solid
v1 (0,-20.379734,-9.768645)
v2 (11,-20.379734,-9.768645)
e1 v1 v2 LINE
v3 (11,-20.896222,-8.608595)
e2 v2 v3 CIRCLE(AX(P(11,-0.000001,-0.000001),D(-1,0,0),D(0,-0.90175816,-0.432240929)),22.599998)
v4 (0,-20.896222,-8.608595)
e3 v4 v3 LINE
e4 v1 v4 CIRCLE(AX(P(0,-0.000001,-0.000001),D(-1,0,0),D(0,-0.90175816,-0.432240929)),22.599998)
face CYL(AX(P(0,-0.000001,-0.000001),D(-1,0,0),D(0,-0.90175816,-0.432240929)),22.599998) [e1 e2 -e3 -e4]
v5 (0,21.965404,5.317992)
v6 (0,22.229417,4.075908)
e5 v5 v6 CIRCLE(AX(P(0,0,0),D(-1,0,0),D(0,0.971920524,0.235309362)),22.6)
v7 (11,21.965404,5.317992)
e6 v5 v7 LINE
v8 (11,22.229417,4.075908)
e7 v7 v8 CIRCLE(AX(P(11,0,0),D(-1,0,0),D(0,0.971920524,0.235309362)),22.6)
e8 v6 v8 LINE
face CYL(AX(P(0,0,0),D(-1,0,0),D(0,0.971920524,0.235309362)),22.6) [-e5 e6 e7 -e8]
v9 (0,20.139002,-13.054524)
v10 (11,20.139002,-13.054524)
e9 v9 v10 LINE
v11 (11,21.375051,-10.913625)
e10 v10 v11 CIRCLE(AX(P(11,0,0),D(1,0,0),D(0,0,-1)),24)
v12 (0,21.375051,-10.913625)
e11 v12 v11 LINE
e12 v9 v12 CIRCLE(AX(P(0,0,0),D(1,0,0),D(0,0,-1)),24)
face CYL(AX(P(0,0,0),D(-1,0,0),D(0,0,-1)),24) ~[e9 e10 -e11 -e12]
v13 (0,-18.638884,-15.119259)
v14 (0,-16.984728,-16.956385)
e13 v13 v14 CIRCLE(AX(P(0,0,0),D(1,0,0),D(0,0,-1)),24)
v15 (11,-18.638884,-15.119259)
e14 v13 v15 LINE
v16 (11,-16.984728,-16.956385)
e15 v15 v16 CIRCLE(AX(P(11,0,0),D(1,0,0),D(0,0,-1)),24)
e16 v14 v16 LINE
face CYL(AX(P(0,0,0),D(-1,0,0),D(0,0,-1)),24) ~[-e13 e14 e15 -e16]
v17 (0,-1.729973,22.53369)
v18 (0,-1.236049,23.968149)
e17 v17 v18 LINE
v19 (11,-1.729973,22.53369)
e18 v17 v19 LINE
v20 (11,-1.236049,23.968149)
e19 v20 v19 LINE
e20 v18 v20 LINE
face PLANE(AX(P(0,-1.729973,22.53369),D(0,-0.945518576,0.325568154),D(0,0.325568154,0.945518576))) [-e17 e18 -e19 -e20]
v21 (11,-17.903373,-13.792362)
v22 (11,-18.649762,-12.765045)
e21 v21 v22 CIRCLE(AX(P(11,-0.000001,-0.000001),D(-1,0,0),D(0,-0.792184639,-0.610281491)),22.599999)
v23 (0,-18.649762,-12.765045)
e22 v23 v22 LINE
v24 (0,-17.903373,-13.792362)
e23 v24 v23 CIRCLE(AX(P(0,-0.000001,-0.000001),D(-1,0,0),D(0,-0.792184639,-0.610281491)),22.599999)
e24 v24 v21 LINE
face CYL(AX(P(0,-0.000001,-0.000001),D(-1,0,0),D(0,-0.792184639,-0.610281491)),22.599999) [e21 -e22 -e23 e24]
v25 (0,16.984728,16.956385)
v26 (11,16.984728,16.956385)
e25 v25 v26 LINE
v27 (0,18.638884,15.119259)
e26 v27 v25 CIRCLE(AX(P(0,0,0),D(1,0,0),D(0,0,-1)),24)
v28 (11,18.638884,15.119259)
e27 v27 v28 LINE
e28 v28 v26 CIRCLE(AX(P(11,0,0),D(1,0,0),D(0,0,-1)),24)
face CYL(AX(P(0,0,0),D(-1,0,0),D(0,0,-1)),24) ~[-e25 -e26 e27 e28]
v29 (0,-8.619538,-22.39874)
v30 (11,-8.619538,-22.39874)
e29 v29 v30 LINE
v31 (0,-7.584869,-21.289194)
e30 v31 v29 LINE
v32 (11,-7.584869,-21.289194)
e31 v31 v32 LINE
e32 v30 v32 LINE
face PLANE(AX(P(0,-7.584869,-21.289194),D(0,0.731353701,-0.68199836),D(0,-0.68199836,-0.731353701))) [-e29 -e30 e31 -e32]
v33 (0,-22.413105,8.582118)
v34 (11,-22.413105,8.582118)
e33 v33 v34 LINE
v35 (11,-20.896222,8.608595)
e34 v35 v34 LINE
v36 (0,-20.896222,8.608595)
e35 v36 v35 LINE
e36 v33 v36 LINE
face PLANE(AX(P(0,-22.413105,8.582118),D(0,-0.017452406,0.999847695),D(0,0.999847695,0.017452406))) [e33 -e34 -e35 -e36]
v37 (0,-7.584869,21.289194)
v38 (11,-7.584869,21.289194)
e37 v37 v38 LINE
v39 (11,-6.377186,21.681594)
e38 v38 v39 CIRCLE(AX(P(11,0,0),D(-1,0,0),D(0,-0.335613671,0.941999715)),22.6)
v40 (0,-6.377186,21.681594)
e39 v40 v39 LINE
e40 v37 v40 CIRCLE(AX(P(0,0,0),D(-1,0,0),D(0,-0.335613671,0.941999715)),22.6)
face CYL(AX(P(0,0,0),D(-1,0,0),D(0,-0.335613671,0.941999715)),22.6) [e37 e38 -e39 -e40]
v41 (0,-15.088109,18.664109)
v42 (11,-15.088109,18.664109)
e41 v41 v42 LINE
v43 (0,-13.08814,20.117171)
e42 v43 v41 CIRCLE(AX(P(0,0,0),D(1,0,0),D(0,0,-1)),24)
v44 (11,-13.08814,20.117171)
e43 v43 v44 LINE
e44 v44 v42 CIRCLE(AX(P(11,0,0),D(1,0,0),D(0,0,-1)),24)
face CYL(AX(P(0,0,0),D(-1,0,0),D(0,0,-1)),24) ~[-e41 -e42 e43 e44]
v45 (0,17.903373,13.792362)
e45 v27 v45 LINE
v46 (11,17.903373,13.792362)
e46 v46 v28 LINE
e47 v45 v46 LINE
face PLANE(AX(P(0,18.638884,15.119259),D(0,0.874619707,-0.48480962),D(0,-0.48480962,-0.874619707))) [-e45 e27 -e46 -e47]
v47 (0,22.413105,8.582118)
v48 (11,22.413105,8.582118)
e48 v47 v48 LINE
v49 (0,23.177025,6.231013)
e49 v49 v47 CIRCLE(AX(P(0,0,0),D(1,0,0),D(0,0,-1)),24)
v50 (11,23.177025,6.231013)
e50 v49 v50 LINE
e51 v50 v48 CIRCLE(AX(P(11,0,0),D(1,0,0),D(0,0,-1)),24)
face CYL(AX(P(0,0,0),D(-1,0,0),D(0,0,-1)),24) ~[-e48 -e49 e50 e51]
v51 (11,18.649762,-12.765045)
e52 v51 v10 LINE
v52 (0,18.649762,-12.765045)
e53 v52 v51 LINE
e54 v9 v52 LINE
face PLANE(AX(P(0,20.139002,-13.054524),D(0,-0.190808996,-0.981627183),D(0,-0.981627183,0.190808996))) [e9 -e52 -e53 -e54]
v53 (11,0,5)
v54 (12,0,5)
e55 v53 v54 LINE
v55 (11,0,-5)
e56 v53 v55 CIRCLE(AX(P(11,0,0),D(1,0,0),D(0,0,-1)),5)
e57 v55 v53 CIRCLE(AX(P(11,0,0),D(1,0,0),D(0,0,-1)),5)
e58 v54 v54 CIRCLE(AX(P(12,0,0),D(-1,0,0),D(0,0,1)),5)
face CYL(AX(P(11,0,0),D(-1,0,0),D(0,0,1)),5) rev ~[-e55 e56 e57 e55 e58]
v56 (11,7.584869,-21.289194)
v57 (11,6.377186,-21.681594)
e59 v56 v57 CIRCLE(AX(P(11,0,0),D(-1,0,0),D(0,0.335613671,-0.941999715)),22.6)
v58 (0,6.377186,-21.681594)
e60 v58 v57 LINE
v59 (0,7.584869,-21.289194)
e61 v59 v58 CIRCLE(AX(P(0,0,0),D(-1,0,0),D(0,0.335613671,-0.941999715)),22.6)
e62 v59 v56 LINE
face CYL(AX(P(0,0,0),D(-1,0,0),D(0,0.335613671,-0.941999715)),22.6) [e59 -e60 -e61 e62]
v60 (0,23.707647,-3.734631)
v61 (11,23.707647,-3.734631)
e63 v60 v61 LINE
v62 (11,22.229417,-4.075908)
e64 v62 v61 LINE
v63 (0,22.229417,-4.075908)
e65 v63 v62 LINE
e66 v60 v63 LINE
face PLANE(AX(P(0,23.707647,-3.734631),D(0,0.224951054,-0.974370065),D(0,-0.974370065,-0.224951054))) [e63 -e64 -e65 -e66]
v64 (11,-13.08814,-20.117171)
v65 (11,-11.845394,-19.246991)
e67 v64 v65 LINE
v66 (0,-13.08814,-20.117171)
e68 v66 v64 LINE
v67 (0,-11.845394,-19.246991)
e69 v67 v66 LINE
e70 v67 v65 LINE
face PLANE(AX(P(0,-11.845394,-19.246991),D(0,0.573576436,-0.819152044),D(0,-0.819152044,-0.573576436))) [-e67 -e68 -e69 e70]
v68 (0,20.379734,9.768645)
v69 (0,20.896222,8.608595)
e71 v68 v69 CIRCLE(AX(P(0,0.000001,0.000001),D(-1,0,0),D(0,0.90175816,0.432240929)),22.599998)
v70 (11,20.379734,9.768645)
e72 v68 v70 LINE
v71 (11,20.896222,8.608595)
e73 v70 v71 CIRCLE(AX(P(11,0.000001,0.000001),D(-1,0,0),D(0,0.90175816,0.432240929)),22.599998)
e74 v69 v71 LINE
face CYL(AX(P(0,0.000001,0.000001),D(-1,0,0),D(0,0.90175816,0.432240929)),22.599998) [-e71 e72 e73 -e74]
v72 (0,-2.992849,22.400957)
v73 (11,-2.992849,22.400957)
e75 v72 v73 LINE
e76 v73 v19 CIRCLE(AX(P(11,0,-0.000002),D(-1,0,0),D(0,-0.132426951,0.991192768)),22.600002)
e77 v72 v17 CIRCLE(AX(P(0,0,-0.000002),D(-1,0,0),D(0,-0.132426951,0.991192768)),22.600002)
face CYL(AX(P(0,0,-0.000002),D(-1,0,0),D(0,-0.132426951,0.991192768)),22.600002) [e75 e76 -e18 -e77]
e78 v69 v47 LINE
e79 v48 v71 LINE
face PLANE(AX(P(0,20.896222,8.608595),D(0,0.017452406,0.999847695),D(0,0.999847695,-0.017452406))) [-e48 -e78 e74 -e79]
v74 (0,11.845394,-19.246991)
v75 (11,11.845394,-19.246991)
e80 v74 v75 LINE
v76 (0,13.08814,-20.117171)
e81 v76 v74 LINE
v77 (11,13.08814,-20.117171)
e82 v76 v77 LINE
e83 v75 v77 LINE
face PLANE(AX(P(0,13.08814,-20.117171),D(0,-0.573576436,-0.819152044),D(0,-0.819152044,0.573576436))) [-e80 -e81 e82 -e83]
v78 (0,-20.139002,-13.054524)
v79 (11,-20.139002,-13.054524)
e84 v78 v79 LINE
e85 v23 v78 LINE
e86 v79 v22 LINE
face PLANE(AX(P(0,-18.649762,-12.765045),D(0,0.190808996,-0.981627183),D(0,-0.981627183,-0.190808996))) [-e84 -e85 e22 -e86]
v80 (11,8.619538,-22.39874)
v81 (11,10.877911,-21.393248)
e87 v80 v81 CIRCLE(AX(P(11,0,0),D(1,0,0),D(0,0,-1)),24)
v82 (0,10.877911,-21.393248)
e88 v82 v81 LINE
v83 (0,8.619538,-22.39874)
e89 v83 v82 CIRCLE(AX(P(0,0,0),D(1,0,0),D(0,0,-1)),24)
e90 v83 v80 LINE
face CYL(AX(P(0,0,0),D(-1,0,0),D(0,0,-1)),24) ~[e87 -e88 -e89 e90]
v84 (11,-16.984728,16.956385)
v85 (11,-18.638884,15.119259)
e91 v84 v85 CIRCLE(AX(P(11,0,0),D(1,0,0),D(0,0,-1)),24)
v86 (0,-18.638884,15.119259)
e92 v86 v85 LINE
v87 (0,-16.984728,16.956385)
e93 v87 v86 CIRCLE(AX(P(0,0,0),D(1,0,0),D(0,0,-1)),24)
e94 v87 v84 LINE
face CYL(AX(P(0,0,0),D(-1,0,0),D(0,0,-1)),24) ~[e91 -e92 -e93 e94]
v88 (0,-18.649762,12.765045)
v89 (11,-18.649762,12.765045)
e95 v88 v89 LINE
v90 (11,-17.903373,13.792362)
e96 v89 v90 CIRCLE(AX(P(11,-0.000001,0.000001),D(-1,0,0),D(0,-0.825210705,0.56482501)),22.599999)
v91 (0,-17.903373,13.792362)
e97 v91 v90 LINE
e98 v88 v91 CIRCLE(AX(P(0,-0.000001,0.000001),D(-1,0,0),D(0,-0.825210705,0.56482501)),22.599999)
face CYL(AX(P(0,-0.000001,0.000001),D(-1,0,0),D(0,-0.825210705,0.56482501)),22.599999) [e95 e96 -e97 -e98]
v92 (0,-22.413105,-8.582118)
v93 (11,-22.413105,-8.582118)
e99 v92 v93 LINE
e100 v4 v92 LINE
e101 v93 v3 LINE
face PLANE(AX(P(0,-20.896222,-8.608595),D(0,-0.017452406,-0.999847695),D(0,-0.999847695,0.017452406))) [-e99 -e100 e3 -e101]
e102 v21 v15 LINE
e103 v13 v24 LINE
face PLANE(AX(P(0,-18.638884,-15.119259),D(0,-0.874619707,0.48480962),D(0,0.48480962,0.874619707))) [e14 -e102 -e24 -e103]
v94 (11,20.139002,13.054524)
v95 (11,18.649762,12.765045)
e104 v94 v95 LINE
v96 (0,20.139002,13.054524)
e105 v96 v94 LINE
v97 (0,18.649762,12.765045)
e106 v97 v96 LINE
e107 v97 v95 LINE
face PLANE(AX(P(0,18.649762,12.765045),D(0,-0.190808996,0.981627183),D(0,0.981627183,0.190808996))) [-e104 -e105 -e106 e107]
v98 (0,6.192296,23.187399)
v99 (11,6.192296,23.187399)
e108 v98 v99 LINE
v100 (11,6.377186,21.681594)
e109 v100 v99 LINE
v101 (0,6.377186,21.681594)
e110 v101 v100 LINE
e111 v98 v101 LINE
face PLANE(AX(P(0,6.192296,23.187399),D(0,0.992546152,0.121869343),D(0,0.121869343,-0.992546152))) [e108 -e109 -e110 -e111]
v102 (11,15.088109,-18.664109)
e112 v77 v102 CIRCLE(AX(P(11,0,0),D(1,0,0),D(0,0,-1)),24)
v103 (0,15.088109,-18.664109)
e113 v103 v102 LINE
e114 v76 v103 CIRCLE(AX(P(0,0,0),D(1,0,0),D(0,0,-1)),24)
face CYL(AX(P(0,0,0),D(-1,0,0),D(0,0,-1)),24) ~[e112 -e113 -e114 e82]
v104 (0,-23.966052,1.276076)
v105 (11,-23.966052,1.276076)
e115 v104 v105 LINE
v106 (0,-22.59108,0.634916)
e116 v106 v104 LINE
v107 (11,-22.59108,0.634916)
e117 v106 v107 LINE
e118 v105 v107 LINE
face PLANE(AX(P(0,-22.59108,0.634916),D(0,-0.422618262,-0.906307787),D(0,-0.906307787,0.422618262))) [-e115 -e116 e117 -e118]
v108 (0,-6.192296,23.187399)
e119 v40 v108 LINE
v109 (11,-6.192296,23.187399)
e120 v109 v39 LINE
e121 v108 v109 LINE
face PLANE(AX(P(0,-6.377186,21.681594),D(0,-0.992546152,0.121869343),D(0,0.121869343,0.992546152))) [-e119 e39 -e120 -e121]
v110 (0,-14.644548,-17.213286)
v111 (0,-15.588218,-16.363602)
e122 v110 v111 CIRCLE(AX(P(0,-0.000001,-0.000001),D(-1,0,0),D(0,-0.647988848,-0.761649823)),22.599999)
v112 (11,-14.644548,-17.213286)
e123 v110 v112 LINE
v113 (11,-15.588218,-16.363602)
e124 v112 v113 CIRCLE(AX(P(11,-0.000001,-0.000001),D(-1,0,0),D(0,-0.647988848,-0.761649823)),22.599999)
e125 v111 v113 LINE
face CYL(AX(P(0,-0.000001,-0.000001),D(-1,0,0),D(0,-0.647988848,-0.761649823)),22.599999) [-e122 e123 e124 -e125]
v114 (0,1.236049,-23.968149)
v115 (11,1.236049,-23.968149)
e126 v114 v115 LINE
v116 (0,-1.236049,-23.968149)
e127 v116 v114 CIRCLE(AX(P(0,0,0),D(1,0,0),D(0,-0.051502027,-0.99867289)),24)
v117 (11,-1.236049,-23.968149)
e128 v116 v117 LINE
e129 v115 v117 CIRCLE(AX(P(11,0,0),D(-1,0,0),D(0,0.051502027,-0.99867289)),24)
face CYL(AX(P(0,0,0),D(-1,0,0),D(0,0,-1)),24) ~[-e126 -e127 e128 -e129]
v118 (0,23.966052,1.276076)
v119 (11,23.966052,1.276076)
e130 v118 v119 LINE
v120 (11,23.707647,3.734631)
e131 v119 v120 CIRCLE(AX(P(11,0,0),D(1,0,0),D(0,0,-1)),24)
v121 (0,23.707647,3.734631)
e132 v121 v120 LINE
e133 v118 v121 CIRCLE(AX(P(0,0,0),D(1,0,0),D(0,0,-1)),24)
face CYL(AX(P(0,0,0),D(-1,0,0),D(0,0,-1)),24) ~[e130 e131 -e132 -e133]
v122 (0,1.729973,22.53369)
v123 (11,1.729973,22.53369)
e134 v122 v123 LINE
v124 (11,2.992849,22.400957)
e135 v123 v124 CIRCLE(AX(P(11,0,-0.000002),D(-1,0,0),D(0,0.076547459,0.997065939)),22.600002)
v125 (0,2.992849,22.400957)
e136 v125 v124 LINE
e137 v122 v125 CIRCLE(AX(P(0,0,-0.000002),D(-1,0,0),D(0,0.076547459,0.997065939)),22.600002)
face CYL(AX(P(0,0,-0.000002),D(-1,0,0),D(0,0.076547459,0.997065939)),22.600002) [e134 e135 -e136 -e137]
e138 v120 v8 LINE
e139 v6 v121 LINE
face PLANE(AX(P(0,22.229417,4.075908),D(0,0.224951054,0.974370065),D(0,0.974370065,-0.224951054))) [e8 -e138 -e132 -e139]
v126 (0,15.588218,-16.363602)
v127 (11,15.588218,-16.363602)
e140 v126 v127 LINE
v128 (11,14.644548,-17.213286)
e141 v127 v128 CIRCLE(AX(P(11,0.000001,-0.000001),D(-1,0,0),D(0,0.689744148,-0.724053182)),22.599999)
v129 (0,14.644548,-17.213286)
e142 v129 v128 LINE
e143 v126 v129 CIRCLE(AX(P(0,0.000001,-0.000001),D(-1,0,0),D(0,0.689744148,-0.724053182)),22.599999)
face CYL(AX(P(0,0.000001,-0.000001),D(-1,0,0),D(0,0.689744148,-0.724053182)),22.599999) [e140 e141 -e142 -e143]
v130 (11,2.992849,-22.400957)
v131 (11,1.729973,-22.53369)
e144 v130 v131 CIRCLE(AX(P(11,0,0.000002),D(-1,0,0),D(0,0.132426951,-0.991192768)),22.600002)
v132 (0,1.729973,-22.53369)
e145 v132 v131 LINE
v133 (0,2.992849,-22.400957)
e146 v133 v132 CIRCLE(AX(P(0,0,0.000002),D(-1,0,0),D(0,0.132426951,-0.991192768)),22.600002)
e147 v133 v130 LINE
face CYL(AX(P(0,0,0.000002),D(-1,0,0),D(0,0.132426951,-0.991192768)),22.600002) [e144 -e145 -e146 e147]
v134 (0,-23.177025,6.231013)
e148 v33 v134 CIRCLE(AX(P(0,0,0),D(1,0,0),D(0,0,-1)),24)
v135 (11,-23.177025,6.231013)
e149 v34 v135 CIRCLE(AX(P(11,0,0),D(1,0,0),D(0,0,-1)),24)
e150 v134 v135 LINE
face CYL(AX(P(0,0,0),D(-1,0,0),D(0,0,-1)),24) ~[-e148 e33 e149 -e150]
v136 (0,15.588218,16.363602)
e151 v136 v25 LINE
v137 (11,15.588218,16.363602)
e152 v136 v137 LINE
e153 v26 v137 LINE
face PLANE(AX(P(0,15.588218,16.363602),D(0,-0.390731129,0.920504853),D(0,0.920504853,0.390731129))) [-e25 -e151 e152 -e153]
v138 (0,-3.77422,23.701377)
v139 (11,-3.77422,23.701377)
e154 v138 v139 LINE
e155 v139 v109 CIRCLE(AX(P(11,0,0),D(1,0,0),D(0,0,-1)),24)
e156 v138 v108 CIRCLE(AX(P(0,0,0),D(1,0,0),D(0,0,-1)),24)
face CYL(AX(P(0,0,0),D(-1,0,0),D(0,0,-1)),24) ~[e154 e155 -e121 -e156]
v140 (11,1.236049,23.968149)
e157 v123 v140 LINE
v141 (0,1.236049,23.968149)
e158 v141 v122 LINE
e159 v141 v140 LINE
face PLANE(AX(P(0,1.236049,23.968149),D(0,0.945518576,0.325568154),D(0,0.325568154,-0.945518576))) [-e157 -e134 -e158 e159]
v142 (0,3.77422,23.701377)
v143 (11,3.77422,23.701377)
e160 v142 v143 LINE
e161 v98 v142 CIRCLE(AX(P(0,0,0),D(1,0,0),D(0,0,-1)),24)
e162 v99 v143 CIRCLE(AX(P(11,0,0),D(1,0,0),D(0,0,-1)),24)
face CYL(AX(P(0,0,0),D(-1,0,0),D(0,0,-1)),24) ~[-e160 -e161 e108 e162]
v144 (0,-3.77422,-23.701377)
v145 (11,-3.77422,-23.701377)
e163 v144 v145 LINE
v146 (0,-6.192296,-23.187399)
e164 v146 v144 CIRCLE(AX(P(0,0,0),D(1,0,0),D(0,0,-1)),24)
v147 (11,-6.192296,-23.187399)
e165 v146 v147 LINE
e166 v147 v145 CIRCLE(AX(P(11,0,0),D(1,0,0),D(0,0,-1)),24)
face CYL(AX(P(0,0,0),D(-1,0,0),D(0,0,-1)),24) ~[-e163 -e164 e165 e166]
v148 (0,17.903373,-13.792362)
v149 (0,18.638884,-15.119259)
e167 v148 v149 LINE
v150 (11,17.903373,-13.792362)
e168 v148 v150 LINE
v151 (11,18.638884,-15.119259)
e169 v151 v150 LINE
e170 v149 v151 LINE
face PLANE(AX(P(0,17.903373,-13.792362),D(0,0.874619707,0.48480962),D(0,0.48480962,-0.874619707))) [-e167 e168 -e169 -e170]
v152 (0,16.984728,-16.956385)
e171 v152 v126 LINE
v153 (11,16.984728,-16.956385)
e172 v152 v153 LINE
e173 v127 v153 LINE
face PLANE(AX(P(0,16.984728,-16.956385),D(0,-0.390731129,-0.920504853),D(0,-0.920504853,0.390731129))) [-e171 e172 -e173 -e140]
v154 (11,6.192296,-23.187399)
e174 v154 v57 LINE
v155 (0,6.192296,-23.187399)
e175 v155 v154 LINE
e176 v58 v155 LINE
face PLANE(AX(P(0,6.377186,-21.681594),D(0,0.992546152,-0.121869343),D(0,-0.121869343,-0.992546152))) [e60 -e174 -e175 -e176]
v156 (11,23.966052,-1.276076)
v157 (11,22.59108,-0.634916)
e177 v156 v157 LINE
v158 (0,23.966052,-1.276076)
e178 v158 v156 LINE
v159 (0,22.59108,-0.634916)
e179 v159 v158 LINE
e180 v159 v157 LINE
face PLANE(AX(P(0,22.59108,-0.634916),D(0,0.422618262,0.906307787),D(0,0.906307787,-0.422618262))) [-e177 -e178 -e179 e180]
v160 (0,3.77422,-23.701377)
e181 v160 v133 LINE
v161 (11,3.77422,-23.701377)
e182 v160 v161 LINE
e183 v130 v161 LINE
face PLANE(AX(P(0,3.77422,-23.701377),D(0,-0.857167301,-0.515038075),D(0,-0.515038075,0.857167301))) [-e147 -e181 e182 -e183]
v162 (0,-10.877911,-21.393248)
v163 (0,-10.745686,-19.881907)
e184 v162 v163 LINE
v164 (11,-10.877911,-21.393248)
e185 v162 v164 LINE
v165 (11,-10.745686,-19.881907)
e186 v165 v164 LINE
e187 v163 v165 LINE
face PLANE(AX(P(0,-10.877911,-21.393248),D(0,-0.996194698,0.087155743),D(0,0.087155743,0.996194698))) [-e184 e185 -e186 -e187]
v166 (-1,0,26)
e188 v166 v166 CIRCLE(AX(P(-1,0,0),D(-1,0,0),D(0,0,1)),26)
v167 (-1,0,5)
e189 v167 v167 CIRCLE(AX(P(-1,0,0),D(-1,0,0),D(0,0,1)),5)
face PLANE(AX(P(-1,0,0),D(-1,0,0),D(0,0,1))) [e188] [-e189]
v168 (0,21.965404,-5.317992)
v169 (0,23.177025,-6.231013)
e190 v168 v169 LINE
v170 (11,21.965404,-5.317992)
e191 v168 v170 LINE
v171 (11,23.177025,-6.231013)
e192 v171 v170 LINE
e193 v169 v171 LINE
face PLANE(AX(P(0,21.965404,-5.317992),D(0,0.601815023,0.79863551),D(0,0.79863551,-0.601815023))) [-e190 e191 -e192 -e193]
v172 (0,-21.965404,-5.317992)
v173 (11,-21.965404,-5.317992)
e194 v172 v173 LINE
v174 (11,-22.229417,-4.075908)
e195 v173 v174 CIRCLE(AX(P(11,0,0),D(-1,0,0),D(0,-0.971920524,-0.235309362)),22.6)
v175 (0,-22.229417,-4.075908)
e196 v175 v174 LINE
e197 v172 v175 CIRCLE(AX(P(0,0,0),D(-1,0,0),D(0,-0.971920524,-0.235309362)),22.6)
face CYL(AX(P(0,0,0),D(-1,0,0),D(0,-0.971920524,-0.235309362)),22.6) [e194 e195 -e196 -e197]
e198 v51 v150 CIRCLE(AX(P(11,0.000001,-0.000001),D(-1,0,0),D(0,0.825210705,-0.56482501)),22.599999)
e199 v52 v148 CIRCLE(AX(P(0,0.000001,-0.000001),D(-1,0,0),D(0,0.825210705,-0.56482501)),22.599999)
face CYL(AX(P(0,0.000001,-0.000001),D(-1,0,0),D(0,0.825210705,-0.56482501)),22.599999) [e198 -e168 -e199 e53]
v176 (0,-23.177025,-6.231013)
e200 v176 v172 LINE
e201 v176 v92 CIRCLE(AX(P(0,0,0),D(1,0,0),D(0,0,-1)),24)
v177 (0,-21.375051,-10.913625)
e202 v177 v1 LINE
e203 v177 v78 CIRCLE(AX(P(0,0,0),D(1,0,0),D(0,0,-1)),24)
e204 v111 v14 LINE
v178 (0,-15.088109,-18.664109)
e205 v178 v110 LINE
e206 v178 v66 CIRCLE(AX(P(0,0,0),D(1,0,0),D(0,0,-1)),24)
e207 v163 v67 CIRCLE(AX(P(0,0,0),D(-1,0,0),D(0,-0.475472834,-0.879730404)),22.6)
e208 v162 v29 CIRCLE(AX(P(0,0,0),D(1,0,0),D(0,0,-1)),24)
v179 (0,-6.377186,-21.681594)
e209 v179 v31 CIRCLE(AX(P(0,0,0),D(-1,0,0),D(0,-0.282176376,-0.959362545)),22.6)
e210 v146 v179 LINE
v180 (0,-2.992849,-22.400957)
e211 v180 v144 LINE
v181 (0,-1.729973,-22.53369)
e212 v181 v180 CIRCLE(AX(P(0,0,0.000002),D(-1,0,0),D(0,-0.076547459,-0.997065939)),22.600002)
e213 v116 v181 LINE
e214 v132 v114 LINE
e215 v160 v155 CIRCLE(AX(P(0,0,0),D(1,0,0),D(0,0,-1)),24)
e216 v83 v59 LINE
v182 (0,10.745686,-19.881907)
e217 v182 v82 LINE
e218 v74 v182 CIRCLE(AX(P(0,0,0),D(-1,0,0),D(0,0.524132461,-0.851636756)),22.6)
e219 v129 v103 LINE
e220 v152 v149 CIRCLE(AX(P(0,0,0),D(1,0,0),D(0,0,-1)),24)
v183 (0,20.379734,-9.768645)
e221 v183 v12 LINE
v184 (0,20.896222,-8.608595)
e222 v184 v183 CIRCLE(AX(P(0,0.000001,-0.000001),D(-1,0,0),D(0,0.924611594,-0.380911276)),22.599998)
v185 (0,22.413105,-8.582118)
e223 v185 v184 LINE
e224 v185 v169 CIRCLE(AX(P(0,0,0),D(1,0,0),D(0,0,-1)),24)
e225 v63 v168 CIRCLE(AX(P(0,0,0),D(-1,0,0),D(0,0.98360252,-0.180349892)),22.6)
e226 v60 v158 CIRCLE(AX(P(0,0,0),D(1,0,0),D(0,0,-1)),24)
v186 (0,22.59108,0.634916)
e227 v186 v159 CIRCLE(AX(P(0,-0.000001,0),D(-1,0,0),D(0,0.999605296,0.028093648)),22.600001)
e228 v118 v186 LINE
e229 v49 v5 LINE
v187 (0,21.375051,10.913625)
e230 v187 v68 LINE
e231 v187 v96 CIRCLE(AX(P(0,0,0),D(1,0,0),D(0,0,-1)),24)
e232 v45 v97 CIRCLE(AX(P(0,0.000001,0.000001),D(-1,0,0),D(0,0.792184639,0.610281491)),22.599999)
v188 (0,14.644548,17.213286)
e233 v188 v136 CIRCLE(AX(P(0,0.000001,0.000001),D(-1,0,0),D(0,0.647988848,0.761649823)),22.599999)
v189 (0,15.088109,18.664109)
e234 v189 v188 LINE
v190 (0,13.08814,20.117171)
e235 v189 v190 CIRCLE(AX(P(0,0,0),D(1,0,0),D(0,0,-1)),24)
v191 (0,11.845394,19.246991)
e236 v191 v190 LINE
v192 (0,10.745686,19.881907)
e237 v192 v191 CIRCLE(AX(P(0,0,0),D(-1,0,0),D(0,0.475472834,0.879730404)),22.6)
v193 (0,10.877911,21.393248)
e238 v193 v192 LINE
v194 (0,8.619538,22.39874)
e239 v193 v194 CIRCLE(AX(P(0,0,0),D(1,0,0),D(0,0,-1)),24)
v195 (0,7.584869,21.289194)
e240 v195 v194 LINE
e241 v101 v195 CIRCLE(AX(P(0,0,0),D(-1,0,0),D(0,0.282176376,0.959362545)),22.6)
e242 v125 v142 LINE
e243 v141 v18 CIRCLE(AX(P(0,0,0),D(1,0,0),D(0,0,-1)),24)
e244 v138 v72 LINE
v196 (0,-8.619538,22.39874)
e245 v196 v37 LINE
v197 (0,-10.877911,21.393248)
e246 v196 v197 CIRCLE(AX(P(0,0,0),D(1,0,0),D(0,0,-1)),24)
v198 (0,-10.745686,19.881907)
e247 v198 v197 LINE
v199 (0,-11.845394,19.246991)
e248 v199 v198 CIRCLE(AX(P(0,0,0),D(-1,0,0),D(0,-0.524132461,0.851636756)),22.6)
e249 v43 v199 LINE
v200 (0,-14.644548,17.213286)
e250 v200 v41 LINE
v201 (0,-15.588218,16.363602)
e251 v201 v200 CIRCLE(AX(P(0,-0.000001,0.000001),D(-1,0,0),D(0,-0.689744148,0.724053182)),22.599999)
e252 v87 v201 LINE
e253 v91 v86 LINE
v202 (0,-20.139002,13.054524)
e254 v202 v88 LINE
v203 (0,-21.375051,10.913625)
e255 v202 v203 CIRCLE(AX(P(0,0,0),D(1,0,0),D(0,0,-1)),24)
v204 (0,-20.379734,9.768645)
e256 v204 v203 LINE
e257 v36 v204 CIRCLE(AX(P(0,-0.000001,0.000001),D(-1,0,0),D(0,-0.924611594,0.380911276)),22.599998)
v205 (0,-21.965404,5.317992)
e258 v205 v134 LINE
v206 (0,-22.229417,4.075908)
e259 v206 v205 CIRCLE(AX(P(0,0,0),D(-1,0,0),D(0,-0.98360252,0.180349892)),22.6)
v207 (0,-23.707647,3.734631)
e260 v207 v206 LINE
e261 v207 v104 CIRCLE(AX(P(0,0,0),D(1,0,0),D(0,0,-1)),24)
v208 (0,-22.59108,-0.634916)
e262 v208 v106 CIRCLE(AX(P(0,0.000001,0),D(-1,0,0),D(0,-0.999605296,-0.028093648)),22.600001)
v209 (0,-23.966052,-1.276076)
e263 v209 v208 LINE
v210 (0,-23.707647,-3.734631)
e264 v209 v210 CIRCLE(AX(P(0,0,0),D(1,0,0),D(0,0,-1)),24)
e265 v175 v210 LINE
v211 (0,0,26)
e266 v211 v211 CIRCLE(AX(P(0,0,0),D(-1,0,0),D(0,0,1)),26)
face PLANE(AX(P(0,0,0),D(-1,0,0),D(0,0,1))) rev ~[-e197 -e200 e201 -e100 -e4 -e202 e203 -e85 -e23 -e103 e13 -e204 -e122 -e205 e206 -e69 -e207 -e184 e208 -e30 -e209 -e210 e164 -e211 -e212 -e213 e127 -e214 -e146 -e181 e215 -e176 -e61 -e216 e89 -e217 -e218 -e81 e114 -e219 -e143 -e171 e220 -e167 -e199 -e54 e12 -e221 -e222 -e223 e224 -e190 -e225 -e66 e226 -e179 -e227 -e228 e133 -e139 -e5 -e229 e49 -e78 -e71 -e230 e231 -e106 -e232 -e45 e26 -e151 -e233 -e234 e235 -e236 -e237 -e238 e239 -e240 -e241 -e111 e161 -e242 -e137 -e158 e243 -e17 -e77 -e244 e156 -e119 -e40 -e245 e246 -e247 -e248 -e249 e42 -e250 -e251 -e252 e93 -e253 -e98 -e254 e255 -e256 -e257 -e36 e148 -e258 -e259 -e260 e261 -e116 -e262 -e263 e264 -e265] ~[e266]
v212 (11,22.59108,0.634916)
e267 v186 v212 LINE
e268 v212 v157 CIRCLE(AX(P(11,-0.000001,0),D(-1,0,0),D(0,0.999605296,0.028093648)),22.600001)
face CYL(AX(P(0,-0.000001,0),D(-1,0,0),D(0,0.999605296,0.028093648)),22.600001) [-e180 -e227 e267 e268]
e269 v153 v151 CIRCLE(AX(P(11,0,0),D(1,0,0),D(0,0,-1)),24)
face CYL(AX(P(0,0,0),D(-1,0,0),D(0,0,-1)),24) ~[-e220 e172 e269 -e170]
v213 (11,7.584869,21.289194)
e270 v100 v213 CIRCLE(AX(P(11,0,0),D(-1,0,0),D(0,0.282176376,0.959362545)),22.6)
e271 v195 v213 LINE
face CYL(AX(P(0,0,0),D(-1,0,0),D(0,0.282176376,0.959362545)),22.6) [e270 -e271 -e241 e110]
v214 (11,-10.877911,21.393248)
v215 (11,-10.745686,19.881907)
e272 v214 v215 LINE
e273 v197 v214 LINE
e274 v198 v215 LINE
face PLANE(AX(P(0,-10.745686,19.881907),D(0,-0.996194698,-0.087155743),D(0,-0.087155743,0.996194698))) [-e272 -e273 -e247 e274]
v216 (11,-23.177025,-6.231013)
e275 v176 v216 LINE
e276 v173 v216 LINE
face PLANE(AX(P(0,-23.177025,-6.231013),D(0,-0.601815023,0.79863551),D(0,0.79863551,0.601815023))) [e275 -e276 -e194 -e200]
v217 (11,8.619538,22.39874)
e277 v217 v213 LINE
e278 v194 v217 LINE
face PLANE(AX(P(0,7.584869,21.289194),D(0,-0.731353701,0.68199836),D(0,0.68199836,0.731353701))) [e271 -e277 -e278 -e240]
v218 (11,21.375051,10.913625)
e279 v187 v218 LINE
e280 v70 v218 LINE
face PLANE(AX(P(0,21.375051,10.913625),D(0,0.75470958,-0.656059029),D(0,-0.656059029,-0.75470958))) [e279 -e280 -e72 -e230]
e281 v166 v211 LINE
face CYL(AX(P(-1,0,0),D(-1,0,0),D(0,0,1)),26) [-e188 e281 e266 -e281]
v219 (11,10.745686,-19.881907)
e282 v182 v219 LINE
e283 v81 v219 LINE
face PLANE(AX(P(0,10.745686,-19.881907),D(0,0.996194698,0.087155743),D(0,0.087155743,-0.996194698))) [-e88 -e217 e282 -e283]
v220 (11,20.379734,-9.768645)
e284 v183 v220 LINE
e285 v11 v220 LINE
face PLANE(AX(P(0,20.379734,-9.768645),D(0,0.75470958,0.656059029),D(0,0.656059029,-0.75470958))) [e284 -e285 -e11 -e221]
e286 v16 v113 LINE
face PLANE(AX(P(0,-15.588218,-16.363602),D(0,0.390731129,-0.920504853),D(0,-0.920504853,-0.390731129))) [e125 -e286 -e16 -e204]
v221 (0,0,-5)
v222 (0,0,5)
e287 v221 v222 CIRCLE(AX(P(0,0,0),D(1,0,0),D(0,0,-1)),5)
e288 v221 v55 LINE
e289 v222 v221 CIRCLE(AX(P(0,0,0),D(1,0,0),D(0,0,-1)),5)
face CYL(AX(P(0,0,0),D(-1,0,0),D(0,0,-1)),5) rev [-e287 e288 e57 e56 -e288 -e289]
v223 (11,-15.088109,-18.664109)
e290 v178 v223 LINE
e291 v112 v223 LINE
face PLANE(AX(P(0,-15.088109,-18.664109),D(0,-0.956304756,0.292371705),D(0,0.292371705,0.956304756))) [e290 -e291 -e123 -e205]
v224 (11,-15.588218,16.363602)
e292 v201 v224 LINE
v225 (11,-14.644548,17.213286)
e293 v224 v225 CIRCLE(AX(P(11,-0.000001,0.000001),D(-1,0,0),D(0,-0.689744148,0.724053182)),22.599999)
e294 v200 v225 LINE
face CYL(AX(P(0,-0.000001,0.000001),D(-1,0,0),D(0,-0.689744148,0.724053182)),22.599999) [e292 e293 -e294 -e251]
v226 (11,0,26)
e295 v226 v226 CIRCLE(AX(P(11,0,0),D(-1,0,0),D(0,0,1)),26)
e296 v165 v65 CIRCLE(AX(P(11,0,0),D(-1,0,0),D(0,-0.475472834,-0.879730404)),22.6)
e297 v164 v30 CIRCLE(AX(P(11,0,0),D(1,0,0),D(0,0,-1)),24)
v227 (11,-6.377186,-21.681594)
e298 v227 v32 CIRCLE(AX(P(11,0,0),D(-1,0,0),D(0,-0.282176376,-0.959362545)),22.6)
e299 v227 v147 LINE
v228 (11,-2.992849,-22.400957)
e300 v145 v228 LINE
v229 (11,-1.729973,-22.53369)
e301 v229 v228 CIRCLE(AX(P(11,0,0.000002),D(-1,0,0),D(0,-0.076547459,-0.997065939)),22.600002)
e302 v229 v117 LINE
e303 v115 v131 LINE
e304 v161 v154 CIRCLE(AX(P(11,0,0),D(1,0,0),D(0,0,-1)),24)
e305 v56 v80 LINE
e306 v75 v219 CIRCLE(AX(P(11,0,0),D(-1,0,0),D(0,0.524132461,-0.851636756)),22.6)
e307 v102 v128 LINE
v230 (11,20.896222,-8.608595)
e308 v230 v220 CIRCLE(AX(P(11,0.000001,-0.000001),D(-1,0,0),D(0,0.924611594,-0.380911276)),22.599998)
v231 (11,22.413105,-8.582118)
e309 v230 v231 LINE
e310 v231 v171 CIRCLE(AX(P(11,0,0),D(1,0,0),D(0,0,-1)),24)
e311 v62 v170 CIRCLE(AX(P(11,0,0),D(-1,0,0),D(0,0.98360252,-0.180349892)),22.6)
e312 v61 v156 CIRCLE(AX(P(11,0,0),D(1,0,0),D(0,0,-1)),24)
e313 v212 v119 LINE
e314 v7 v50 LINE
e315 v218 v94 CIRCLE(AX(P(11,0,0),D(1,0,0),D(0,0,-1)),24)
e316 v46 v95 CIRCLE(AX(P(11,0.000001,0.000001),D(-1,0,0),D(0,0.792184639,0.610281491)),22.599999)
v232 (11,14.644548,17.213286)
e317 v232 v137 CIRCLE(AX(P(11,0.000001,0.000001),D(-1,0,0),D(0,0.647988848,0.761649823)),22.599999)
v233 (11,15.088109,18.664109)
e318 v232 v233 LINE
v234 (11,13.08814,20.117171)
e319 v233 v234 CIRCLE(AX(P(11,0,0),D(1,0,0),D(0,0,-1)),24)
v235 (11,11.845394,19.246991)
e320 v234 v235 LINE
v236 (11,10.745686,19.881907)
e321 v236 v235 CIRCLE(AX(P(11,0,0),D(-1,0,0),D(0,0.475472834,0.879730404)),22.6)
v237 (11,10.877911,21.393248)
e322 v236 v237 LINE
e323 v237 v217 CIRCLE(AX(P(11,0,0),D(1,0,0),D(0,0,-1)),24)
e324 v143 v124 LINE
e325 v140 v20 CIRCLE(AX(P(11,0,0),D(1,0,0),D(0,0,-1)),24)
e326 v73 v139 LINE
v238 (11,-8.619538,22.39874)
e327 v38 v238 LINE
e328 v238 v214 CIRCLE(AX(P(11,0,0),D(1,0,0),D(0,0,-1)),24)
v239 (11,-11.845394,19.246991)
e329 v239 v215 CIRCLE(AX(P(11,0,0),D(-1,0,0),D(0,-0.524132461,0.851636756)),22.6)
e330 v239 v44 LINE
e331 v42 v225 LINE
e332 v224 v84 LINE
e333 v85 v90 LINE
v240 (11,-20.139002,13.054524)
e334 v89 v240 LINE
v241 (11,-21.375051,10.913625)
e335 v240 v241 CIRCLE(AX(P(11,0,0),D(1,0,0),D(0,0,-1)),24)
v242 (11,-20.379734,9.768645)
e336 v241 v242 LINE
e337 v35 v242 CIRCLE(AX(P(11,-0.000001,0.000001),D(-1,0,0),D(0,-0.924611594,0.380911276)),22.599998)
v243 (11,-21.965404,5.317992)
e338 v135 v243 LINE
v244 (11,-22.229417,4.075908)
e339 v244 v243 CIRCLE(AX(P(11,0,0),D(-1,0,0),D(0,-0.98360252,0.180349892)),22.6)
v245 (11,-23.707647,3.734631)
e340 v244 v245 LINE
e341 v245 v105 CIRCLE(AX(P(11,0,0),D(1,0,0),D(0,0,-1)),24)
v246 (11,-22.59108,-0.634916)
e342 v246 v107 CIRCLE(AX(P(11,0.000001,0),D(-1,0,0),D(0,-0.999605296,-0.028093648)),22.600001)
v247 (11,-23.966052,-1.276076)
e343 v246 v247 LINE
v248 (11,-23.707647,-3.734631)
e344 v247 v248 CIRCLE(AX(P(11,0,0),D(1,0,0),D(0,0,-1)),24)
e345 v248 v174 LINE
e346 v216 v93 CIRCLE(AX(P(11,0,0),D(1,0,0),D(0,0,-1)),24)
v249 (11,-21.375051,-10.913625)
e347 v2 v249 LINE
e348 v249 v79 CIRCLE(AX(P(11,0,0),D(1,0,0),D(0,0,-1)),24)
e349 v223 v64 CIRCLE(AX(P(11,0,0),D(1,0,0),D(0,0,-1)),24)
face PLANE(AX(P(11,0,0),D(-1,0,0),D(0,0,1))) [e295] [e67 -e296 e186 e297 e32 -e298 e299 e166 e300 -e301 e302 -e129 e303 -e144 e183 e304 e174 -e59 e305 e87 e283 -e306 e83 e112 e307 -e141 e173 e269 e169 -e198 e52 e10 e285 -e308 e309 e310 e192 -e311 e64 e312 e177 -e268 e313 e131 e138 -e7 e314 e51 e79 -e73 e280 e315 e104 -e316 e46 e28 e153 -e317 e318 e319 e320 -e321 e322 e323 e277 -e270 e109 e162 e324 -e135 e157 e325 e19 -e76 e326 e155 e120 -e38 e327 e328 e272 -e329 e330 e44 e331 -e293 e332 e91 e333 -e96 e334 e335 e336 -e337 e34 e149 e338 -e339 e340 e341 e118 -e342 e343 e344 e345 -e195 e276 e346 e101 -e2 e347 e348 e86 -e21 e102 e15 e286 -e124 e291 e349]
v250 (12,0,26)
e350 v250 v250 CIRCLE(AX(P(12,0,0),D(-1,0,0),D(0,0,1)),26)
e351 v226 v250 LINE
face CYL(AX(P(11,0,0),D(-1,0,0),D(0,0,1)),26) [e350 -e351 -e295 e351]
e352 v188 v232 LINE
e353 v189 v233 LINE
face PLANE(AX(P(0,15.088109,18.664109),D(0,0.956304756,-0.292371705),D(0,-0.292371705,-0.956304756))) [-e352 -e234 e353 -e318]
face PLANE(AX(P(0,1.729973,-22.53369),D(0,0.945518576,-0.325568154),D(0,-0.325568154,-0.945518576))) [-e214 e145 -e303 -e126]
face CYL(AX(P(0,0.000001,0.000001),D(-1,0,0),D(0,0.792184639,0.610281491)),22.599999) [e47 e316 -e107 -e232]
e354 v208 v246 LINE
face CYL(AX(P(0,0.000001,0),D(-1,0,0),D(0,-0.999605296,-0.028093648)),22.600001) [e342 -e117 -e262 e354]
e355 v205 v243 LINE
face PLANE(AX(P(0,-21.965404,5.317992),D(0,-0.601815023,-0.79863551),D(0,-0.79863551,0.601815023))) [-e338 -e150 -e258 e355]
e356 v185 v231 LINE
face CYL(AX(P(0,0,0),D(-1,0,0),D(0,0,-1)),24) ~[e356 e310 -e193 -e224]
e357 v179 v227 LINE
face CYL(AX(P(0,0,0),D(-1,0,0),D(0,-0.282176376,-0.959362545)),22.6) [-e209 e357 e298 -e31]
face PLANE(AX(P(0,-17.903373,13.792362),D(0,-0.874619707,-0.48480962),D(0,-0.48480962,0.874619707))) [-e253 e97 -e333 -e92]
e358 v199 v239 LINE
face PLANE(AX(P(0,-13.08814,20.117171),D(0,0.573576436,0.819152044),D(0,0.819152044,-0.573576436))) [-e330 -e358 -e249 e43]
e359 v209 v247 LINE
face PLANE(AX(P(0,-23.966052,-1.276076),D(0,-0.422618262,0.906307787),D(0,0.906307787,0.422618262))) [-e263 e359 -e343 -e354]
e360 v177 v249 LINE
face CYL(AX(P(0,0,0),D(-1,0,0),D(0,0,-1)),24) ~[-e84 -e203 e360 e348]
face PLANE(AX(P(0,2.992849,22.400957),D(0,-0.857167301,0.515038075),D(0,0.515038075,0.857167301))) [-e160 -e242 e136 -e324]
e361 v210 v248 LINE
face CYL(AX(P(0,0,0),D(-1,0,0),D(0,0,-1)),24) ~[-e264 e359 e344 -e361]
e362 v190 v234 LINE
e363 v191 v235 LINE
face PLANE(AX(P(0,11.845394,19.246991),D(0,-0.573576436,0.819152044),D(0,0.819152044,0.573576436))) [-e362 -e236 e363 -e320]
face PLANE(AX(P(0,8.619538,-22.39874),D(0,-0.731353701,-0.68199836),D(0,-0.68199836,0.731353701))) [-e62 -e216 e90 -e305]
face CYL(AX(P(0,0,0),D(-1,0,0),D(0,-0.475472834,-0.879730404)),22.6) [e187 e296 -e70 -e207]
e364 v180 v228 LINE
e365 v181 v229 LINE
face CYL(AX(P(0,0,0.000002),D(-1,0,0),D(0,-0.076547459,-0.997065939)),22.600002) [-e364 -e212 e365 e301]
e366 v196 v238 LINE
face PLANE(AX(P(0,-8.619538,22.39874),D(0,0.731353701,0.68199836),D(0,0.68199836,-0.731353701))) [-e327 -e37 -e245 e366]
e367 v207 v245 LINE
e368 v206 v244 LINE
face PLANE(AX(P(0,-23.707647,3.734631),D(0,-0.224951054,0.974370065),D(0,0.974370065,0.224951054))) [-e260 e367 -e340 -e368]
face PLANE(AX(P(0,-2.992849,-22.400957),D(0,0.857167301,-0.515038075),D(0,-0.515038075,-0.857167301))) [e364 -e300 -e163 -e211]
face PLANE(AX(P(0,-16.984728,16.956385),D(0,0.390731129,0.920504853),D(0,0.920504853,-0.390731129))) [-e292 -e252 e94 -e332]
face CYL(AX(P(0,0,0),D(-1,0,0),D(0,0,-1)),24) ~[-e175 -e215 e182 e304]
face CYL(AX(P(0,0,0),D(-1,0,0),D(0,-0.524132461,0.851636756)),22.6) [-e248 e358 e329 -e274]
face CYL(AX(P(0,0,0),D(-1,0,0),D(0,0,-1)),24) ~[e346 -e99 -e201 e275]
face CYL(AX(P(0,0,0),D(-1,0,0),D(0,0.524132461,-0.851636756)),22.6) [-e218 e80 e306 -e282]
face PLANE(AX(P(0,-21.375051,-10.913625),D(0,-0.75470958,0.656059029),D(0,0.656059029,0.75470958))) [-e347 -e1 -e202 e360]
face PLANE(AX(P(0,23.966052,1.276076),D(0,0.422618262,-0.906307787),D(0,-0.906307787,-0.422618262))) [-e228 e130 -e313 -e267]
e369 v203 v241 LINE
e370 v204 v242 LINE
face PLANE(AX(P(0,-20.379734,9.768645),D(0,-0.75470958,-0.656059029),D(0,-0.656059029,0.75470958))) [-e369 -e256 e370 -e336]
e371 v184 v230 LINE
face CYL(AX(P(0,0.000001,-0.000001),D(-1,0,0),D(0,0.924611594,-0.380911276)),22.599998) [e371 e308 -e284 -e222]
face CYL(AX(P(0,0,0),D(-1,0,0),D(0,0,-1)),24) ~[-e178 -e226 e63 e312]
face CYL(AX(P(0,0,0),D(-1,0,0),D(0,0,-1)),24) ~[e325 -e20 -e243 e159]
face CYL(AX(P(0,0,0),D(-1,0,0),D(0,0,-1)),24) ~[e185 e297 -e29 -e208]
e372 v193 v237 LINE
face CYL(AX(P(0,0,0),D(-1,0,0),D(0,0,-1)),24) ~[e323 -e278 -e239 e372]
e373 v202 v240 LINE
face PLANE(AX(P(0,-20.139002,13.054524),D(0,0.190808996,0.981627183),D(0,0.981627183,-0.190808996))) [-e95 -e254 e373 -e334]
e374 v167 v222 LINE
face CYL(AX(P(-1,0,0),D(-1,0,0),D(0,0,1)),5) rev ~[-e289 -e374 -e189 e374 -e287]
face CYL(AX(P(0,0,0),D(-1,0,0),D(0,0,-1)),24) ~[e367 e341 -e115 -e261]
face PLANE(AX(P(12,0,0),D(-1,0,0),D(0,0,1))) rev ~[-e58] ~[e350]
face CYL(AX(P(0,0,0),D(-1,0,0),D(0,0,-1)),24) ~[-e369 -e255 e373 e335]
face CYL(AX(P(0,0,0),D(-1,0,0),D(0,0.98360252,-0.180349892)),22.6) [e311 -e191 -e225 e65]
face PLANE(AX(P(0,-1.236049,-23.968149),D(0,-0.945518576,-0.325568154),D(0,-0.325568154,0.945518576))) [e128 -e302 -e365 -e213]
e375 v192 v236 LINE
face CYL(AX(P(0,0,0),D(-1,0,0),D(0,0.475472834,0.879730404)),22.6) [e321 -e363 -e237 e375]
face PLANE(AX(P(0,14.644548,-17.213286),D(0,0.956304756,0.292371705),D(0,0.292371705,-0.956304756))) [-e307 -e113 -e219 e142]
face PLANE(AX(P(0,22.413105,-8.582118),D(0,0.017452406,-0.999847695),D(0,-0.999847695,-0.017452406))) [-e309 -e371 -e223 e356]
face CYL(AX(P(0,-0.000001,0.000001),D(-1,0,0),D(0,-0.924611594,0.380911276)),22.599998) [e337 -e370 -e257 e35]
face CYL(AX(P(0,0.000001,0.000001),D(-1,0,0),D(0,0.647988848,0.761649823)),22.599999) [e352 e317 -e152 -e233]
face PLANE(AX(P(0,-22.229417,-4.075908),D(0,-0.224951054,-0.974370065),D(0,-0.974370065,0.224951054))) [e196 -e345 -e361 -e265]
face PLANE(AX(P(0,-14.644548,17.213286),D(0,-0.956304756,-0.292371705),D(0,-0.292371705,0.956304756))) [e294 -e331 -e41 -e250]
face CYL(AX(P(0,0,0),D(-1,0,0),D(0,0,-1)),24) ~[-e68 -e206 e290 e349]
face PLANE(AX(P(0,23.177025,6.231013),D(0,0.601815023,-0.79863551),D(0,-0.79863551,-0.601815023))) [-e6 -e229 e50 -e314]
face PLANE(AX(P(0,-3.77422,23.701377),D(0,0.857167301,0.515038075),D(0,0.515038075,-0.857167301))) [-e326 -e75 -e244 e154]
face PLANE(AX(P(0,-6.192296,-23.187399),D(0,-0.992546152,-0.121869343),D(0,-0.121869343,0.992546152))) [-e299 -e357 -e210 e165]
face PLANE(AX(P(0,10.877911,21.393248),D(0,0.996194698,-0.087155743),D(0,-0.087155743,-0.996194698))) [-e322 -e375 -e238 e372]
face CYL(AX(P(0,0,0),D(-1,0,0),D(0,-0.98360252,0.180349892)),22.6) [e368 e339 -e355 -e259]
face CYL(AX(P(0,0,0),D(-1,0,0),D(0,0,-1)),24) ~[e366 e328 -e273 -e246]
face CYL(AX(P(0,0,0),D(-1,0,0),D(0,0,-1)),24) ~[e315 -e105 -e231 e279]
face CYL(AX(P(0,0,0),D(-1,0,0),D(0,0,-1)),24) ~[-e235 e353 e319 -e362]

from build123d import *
from build123d.topology import SkipClean

# Parameters (mm, degrees)
SKETCH1_R           = 24
SKETCH1_R_2         = 5
BOSS_EXTRUDE1_DEPTH = 11
CUT_EXTRUDE1_DEPTH  = 36.67912555
BOSS_EXTRUDE2_START = 1
SKETCH3_R           = 26
SKETCH3_R_2         = 5
BOSS_EXTRUDE2_DEPTH = 1
LPATTERN1_COUNT     = 2
LPATTERN1_PITCH     = 12


with BuildPart() as part:
    # Sketch1 → Boss-Extrude1 (new body)
    with BuildSketch(Plane(origin=(0, 0, 0), x_dir=(0, 0, -1), z_dir=(1, 0, 0))):
        Circle(SKETCH1_R)
        Circle(SKETCH1_R_2, mode=Mode.SUBTRACT)
    extrude(amount=BOSS_EXTRUDE1_DEPTH)

    # Sketch2 → Cut-Extrude1 (cut, through all)
    with BuildSketch(Plane.ZY):
        with BuildLine():
            Line((1.276076386, 23.966051595), (0.634916452, 22.59107968))
            ThreePointArc((0.634916452, 22.59107968), (0, 22.6), (-0.634916452, 22.59107968))
            Line((-0.634916452, 22.59107968), (-1.276076386, 23.966051595))
            ThreePointArc((-1.276076386, 23.966051595), (0, 24), (1.276076386, 23.966051595))
        make_face()
        with BuildLine():
            Line((6.231013365, 23.177024668), (5.317991578, 21.965403834))
            ThreePointArc((5.317991578, 21.965403834), (4.698804212, 22.106135777), (4.075907569, 22.22941694))
            Line((4.075907569, 22.22941694), (3.734631254, 23.707647066))
            ThreePointArc((3.734631254, 23.707647066), (4.98988058, 23.475542418), (6.231013365, 23.177024668))
        make_face()
        with BuildLine():
            Line((10.913625159, 21.375050547), (9.768644953, 20.379734438))
            ThreePointArc((9.768644953, 20.379734438), (9.192248134, 20.646127343), (8.608594872, 20.896222011))
            Line((8.608594872, 20.896222011), (8.582117588, 22.413104598))
            ThreePointArc((8.582117588, 22.413104598), (9.761679434, 21.925090983), (10.913625159, 21.375050547))
        make_face()
        with BuildLine():
            Line((15.119259166, 18.638884148), (13.792361669, 17.903372855))
            ThreePointArc((13.792361669, 17.903372855), (13.283946702, 18.283784073), (12.765045269, 18.649761909))
            Line((12.765045269, 18.649761909), (13.054524201, 20.139001909))
            ThreePointArc((13.054524201, 20.139001909), (14.106846055, 19.416407865), (15.119259166, 18.638884148))
        make_face()
        with BuildLine():
            Line((18.664108996, 15.088109073), (17.213285997, 14.644547969))
            ThreePointArc((17.213285997, 14.644547969), (16.795073056, 15.122351704), (16.363601935, 15.58821772))
            Line((16.363601935, 15.58821772), (16.956385464, 16.984728199))
            ThreePointArc((16.956385464, 16.984728199), (17.835475811, 16.059134553), (18.664108996, 15.088109073))
        make_face()
        with BuildLine():
            Line((21.393247703, 10.87791123), (19.881907128, 10.745686063))
            ThreePointArc((19.881907128, 10.745686063), (19.572174126, 11.3), (19.246990676, 11.845393617))
            Line((19.246990676, 11.845393617), (20.117171317, 13.088140365))
            ThreePointArc((20.117171317, 13.088140365), (20.784609691, 12), (21.393247703, 10.87791123))
        make_face()
        with BuildLine():
            Line((23.187398829, 6.192296469), (21.681593513, 6.377186113))
            ThreePointArc((21.681593513, 6.377186113), (21.493877268, 6.983784073), (21.289193566, 7.584868971))
            Line((21.289193566, 7.584868971), (22.39874025, 8.619537993))
            ThreePointArc((22.39874025, 8.619537993), (22.825356391, 7.416407865), (23.187398829, 6.192296469))
        make_face()
        with BuildLine():
            Line((23.96814936, 1.236048638), (22.533690223, 1.729972529))
            ThreePointArc((22.533690223, 1.729972529), (22.476194835, 2.36234327), (22.400956541, 2.992849156))
            Line((22.400956541, 2.992849156), (23.701376753, 3.77422045))
            ThreePointArc((23.701376753, 3.77422045), (23.868525489, 2.508683118), (23.96814936, 1.236048638))
        make_face()
        with BuildLine():
            Line((23.701376753, -3.77422045), (22.400956541, -2.992849156))
            ThreePointArc((22.400956541, -2.992849156), (22.476194835, -2.36234327), (22.533690223, -1.729972529))
            Line((22.533690223, -1.729972529), (23.96814936, -1.236048638))
            ThreePointArc((23.96814936, -1.236048638), (23.868525489, -2.508683118), (23.701376753, -3.77422045))
        make_face()
        with BuildLine():
            Line((22.39874025, -8.619537993), (21.289193566, -7.584868971))
            ThreePointArc((21.289193566, -7.584868971), (21.493877268, -6.983784073), (21.681593513, -6.377186113))
            Line((21.681593513, -6.377186113), (23.187398829, -6.192296469))
            ThreePointArc((23.187398829, -6.192296469), (22.825356391, -7.416407865), (22.39874025, -8.619537993))
        make_face()
        with BuildLine():
            Line((20.117171317, -13.088140365), (19.246990676, -11.845393617))
            ThreePointArc((19.246990676, -11.845393617), (19.572174126, -11.3), (19.881907128, -10.745686063))
            Line((19.881907128, -10.745686063), (21.393247703, -10.87791123))
            ThreePointArc((21.393247703, -10.87791123), (20.784609691, -12), (20.117171317, -13.088140365))
        make_face()
        with BuildLine():
            Line((16.956385464, -16.984728199), (16.363601935, -15.58821772))
            ThreePointArc((16.363601935, -15.58821772), (16.795073056, -15.122351704), (17.213285997, -14.644547969))
            Line((17.213285997, -14.644547969), (18.664108996, -15.088109073))
            ThreePointArc((18.664108996, -15.088109073), (17.835475811, -16.059134553), (16.956385464, -16.984728199))
        make_face()
        with BuildLine():
            Line((13.054524201, -20.139001909), (12.765045269, -18.649761909))
            ThreePointArc((12.765045269, -18.649761909), (13.283946702, -18.283784073), (13.792361669, -17.903372855))
            Line((13.792361669, -17.903372855), (15.119259166, -18.638884148))
            ThreePointArc((15.119259166, -18.638884148), (14.106846055, -19.416407865), (13.054524201, -20.139001909))
        make_face()
        with BuildLine():
            Line((8.582117588, -22.413104598), (8.608594872, -20.896222011))
            ThreePointArc((8.608594872, -20.896222011), (9.192248134, -20.646127343), (9.768644953, -20.379734438))
            Line((9.768644953, -20.379734438), (10.913625159, -21.375050547))
            ThreePointArc((10.913625159, -21.375050547), (9.761679434, -21.925090983), (8.582117588, -22.413104598))
        make_face()
        with BuildLine():
            Line((3.734631254, -23.707647066), (4.075907569, -22.22941694))
            ThreePointArc((4.075907569, -22.22941694), (4.698804212, -22.106135777), (5.317991578, -21.965403834))
            Line((5.317991578, -21.965403834), (6.231013365, -23.177024668))
            ThreePointArc((6.231013365, -23.177024668), (4.98988058, -23.475542418), (3.734631254, -23.707647066))
        make_face()
        with BuildLine():
            Line((-1.276076386, -23.966051595), (-0.634916452, -22.59107968))
            ThreePointArc((-0.634916452, -22.59107968), (0, -22.6), (0.634916452, -22.59107968))
            Line((0.634916452, -22.59107968), (1.276076386, -23.966051595))
            ThreePointArc((1.276076386, -23.966051595), (0, -24), (-1.276076386, -23.966051595))
        make_face()
        with BuildLine():
            Line((-6.231013365, -23.177024668), (-5.317991578, -21.965403834))
            ThreePointArc((-5.317991578, -21.965403834), (-4.698804212, -22.106135777), (-4.075907569, -22.22941694))
            Line((-4.075907569, -22.22941694), (-3.734631254, -23.707647066))
            ThreePointArc((-3.734631254, -23.707647066), (-4.98988058, -23.475542418), (-6.231013365, -23.177024668))
        make_face()
        with BuildLine():
            Line((-10.913625159, -21.375050547), (-9.768644953, -20.379734438))
            ThreePointArc((-9.768644953, -20.379734438), (-9.192248134, -20.646127343), (-8.608594872, -20.896222011))
            Line((-8.608594872, -20.896222011), (-8.582117588, -22.413104598))
            ThreePointArc((-8.582117588, -22.413104598), (-9.761679434, -21.925090983), (-10.913625159, -21.375050547))
        make_face()
        with BuildLine():
            Line((-15.119259166, -18.638884148), (-13.792361669, -17.903372855))
            ThreePointArc((-13.792361669, -17.903372855), (-13.283946702, -18.283784073), (-12.765045269, -18.649761909))
            Line((-12.765045269, -18.649761909), (-13.054524201, -20.139001909))
            ThreePointArc((-13.054524201, -20.139001909), (-14.106846055, -19.416407865), (-15.119259166, -18.638884148))
        make_face()
        with BuildLine():
            Line((-18.664108996, -15.088109073), (-17.213285997, -14.644547969))
            ThreePointArc((-17.213285997, -14.644547969), (-16.795073056, -15.122351704), (-16.363601935, -15.58821772))
            Line((-16.363601935, -15.58821772), (-16.956385464, -16.984728199))
            ThreePointArc((-16.956385464, -16.984728199), (-17.835475811, -16.059134553), (-18.664108996, -15.088109073))
        make_face()
        with BuildLine():
            Line((-21.393247703, -10.87791123), (-19.881907128, -10.745686063))
            ThreePointArc((-19.881907128, -10.745686063), (-19.572174126, -11.3), (-19.246990676, -11.845393617))
            Line((-19.246990676, -11.845393617), (-20.117171317, -13.088140365))
            ThreePointArc((-20.117171317, -13.088140365), (-20.784609691, -12), (-21.393247703, -10.87791123))
        make_face()
        with BuildLine():
            Line((-23.187398829, -6.192296469), (-21.681593513, -6.377186113))
            ThreePointArc((-21.681593513, -6.377186113), (-21.493877268, -6.983784073), (-21.289193566, -7.584868971))
            Line((-21.289193566, -7.584868971), (-22.39874025, -8.619537993))
            ThreePointArc((-22.39874025, -8.619537993), (-22.825356391, -7.416407865), (-23.187398829, -6.192296469))
        make_face()
        with BuildLine():
            Line((-23.96814936, -1.236048638), (-22.533690223, -1.729972529))
            ThreePointArc((-22.533690223, -1.729972529), (-22.476194835, -2.36234327), (-22.400956541, -2.992849156))
            Line((-22.400956541, -2.992849156), (-23.701376753, -3.77422045))
            ThreePointArc((-23.701376753, -3.77422045), (-23.868525489, -2.508683118), (-23.96814936, -1.236048638))
        make_face()
        with BuildLine():
            Line((-23.701376753, 3.77422045), (-22.400956541, 2.992849156))
            ThreePointArc((-22.400956541, 2.992849156), (-22.476194835, 2.36234327), (-22.533690223, 1.729972529))
            Line((-22.533690223, 1.729972529), (-23.96814936, 1.236048638))
            ThreePointArc((-23.96814936, 1.236048638), (-23.868525489, 2.508683118), (-23.701376753, 3.77422045))
        make_face()
        with BuildLine():
            Line((-22.39874025, 8.619537993), (-21.289193566, 7.584868971))
            ThreePointArc((-21.289193566, 7.584868971), (-21.493877268, 6.983784073), (-21.681593513, 6.377186113))
            Line((-21.681593513, 6.377186113), (-23.187398829, 6.192296469))
            ThreePointArc((-23.187398829, 6.192296469), (-22.825356391, 7.416407865), (-22.39874025, 8.619537993))
        make_face()
        with BuildLine():
            Line((-20.117171317, 13.088140365), (-19.246990676, 11.845393617))
            ThreePointArc((-19.246990676, 11.845393617), (-19.572174126, 11.3), (-19.881907128, 10.745686063))
            Line((-19.881907128, 10.745686063), (-21.393247703, 10.87791123))
            ThreePointArc((-21.393247703, 10.87791123), (-20.784609691, 12), (-20.117171317, 13.088140365))
        make_face()
        with BuildLine():
            Line((-16.956385464, 16.984728199), (-16.363601935, 15.58821772))
            ThreePointArc((-16.363601935, 15.58821772), (-16.795073056, 15.122351704), (-17.213285997, 14.644547969))
            Line((-17.213285997, 14.644547969), (-18.664108996, 15.088109073))
            ThreePointArc((-18.664108996, 15.088109073), (-17.835475811, 16.059134553), (-16.956385464, 16.984728199))
        make_face()
        with BuildLine():
            Line((-13.054524201, 20.139001909), (-12.765045269, 18.649761909))
            ThreePointArc((-12.765045269, 18.649761909), (-13.283946702, 18.283784073), (-13.792361669, 17.903372855))
            Line((-13.792361669, 17.903372855), (-15.119259166, 18.638884148))
            ThreePointArc((-15.119259166, 18.638884148), (-14.106846055, 19.416407865), (-13.054524201, 20.139001909))
        make_face()
        with BuildLine():
            Line((-8.582117588, 22.413104598), (-8.608594872, 20.896222011))
            ThreePointArc((-8.608594872, 20.896222011), (-9.192248134, 20.646127343), (-9.768644953, 20.379734438))
            Line((-9.768644953, 20.379734438), (-10.913625159, 21.375050547))
            ThreePointArc((-10.913625159, 21.375050547), (-9.761679434, 21.925090983), (-8.582117588, 22.413104598))
        make_face()
        with BuildLine():
            Line((-3.734631254, 23.707647066), (-4.075907569, 22.22941694))
            ThreePointArc((-4.075907569, 22.22941694), (-4.698804212, 22.106135777), (-5.317991578, 21.965403834))
            Line((-5.317991578, 21.965403834), (-6.231013365, 23.177024668))
            ThreePointArc((-6.231013365, 23.177024668), (-4.98988058, 23.475542418), (-3.734631254, 23.707647066))
        make_face()
    extrude(amount=-CUT_EXTRUDE1_DEPTH, mode=Mode.SUBTRACT)

    # Sketch3 → Boss-Extrude2 (add)
    with SkipClean():  # the faces are left unmerged after this step: merging them gives an invalid solid
        with BuildSketch(Plane.ZY.offset(BOSS_EXTRUDE2_START)):
            Circle(SKETCH3_R)
            Circle(SKETCH3_R_2, mode=Mode.SUBTRACT)
        boss_extrude2 = extrude(amount=-BOSS_EXTRUDE2_DEPTH)

    # LPattern1: Boss-Extrude2 ×2
    with Locations(*[(i * LPATTERN1_PITCH, 0, 0) for i in range(1, LPATTERN1_COUNT)]):
        add(boss_extrude2)


solid = part.part
